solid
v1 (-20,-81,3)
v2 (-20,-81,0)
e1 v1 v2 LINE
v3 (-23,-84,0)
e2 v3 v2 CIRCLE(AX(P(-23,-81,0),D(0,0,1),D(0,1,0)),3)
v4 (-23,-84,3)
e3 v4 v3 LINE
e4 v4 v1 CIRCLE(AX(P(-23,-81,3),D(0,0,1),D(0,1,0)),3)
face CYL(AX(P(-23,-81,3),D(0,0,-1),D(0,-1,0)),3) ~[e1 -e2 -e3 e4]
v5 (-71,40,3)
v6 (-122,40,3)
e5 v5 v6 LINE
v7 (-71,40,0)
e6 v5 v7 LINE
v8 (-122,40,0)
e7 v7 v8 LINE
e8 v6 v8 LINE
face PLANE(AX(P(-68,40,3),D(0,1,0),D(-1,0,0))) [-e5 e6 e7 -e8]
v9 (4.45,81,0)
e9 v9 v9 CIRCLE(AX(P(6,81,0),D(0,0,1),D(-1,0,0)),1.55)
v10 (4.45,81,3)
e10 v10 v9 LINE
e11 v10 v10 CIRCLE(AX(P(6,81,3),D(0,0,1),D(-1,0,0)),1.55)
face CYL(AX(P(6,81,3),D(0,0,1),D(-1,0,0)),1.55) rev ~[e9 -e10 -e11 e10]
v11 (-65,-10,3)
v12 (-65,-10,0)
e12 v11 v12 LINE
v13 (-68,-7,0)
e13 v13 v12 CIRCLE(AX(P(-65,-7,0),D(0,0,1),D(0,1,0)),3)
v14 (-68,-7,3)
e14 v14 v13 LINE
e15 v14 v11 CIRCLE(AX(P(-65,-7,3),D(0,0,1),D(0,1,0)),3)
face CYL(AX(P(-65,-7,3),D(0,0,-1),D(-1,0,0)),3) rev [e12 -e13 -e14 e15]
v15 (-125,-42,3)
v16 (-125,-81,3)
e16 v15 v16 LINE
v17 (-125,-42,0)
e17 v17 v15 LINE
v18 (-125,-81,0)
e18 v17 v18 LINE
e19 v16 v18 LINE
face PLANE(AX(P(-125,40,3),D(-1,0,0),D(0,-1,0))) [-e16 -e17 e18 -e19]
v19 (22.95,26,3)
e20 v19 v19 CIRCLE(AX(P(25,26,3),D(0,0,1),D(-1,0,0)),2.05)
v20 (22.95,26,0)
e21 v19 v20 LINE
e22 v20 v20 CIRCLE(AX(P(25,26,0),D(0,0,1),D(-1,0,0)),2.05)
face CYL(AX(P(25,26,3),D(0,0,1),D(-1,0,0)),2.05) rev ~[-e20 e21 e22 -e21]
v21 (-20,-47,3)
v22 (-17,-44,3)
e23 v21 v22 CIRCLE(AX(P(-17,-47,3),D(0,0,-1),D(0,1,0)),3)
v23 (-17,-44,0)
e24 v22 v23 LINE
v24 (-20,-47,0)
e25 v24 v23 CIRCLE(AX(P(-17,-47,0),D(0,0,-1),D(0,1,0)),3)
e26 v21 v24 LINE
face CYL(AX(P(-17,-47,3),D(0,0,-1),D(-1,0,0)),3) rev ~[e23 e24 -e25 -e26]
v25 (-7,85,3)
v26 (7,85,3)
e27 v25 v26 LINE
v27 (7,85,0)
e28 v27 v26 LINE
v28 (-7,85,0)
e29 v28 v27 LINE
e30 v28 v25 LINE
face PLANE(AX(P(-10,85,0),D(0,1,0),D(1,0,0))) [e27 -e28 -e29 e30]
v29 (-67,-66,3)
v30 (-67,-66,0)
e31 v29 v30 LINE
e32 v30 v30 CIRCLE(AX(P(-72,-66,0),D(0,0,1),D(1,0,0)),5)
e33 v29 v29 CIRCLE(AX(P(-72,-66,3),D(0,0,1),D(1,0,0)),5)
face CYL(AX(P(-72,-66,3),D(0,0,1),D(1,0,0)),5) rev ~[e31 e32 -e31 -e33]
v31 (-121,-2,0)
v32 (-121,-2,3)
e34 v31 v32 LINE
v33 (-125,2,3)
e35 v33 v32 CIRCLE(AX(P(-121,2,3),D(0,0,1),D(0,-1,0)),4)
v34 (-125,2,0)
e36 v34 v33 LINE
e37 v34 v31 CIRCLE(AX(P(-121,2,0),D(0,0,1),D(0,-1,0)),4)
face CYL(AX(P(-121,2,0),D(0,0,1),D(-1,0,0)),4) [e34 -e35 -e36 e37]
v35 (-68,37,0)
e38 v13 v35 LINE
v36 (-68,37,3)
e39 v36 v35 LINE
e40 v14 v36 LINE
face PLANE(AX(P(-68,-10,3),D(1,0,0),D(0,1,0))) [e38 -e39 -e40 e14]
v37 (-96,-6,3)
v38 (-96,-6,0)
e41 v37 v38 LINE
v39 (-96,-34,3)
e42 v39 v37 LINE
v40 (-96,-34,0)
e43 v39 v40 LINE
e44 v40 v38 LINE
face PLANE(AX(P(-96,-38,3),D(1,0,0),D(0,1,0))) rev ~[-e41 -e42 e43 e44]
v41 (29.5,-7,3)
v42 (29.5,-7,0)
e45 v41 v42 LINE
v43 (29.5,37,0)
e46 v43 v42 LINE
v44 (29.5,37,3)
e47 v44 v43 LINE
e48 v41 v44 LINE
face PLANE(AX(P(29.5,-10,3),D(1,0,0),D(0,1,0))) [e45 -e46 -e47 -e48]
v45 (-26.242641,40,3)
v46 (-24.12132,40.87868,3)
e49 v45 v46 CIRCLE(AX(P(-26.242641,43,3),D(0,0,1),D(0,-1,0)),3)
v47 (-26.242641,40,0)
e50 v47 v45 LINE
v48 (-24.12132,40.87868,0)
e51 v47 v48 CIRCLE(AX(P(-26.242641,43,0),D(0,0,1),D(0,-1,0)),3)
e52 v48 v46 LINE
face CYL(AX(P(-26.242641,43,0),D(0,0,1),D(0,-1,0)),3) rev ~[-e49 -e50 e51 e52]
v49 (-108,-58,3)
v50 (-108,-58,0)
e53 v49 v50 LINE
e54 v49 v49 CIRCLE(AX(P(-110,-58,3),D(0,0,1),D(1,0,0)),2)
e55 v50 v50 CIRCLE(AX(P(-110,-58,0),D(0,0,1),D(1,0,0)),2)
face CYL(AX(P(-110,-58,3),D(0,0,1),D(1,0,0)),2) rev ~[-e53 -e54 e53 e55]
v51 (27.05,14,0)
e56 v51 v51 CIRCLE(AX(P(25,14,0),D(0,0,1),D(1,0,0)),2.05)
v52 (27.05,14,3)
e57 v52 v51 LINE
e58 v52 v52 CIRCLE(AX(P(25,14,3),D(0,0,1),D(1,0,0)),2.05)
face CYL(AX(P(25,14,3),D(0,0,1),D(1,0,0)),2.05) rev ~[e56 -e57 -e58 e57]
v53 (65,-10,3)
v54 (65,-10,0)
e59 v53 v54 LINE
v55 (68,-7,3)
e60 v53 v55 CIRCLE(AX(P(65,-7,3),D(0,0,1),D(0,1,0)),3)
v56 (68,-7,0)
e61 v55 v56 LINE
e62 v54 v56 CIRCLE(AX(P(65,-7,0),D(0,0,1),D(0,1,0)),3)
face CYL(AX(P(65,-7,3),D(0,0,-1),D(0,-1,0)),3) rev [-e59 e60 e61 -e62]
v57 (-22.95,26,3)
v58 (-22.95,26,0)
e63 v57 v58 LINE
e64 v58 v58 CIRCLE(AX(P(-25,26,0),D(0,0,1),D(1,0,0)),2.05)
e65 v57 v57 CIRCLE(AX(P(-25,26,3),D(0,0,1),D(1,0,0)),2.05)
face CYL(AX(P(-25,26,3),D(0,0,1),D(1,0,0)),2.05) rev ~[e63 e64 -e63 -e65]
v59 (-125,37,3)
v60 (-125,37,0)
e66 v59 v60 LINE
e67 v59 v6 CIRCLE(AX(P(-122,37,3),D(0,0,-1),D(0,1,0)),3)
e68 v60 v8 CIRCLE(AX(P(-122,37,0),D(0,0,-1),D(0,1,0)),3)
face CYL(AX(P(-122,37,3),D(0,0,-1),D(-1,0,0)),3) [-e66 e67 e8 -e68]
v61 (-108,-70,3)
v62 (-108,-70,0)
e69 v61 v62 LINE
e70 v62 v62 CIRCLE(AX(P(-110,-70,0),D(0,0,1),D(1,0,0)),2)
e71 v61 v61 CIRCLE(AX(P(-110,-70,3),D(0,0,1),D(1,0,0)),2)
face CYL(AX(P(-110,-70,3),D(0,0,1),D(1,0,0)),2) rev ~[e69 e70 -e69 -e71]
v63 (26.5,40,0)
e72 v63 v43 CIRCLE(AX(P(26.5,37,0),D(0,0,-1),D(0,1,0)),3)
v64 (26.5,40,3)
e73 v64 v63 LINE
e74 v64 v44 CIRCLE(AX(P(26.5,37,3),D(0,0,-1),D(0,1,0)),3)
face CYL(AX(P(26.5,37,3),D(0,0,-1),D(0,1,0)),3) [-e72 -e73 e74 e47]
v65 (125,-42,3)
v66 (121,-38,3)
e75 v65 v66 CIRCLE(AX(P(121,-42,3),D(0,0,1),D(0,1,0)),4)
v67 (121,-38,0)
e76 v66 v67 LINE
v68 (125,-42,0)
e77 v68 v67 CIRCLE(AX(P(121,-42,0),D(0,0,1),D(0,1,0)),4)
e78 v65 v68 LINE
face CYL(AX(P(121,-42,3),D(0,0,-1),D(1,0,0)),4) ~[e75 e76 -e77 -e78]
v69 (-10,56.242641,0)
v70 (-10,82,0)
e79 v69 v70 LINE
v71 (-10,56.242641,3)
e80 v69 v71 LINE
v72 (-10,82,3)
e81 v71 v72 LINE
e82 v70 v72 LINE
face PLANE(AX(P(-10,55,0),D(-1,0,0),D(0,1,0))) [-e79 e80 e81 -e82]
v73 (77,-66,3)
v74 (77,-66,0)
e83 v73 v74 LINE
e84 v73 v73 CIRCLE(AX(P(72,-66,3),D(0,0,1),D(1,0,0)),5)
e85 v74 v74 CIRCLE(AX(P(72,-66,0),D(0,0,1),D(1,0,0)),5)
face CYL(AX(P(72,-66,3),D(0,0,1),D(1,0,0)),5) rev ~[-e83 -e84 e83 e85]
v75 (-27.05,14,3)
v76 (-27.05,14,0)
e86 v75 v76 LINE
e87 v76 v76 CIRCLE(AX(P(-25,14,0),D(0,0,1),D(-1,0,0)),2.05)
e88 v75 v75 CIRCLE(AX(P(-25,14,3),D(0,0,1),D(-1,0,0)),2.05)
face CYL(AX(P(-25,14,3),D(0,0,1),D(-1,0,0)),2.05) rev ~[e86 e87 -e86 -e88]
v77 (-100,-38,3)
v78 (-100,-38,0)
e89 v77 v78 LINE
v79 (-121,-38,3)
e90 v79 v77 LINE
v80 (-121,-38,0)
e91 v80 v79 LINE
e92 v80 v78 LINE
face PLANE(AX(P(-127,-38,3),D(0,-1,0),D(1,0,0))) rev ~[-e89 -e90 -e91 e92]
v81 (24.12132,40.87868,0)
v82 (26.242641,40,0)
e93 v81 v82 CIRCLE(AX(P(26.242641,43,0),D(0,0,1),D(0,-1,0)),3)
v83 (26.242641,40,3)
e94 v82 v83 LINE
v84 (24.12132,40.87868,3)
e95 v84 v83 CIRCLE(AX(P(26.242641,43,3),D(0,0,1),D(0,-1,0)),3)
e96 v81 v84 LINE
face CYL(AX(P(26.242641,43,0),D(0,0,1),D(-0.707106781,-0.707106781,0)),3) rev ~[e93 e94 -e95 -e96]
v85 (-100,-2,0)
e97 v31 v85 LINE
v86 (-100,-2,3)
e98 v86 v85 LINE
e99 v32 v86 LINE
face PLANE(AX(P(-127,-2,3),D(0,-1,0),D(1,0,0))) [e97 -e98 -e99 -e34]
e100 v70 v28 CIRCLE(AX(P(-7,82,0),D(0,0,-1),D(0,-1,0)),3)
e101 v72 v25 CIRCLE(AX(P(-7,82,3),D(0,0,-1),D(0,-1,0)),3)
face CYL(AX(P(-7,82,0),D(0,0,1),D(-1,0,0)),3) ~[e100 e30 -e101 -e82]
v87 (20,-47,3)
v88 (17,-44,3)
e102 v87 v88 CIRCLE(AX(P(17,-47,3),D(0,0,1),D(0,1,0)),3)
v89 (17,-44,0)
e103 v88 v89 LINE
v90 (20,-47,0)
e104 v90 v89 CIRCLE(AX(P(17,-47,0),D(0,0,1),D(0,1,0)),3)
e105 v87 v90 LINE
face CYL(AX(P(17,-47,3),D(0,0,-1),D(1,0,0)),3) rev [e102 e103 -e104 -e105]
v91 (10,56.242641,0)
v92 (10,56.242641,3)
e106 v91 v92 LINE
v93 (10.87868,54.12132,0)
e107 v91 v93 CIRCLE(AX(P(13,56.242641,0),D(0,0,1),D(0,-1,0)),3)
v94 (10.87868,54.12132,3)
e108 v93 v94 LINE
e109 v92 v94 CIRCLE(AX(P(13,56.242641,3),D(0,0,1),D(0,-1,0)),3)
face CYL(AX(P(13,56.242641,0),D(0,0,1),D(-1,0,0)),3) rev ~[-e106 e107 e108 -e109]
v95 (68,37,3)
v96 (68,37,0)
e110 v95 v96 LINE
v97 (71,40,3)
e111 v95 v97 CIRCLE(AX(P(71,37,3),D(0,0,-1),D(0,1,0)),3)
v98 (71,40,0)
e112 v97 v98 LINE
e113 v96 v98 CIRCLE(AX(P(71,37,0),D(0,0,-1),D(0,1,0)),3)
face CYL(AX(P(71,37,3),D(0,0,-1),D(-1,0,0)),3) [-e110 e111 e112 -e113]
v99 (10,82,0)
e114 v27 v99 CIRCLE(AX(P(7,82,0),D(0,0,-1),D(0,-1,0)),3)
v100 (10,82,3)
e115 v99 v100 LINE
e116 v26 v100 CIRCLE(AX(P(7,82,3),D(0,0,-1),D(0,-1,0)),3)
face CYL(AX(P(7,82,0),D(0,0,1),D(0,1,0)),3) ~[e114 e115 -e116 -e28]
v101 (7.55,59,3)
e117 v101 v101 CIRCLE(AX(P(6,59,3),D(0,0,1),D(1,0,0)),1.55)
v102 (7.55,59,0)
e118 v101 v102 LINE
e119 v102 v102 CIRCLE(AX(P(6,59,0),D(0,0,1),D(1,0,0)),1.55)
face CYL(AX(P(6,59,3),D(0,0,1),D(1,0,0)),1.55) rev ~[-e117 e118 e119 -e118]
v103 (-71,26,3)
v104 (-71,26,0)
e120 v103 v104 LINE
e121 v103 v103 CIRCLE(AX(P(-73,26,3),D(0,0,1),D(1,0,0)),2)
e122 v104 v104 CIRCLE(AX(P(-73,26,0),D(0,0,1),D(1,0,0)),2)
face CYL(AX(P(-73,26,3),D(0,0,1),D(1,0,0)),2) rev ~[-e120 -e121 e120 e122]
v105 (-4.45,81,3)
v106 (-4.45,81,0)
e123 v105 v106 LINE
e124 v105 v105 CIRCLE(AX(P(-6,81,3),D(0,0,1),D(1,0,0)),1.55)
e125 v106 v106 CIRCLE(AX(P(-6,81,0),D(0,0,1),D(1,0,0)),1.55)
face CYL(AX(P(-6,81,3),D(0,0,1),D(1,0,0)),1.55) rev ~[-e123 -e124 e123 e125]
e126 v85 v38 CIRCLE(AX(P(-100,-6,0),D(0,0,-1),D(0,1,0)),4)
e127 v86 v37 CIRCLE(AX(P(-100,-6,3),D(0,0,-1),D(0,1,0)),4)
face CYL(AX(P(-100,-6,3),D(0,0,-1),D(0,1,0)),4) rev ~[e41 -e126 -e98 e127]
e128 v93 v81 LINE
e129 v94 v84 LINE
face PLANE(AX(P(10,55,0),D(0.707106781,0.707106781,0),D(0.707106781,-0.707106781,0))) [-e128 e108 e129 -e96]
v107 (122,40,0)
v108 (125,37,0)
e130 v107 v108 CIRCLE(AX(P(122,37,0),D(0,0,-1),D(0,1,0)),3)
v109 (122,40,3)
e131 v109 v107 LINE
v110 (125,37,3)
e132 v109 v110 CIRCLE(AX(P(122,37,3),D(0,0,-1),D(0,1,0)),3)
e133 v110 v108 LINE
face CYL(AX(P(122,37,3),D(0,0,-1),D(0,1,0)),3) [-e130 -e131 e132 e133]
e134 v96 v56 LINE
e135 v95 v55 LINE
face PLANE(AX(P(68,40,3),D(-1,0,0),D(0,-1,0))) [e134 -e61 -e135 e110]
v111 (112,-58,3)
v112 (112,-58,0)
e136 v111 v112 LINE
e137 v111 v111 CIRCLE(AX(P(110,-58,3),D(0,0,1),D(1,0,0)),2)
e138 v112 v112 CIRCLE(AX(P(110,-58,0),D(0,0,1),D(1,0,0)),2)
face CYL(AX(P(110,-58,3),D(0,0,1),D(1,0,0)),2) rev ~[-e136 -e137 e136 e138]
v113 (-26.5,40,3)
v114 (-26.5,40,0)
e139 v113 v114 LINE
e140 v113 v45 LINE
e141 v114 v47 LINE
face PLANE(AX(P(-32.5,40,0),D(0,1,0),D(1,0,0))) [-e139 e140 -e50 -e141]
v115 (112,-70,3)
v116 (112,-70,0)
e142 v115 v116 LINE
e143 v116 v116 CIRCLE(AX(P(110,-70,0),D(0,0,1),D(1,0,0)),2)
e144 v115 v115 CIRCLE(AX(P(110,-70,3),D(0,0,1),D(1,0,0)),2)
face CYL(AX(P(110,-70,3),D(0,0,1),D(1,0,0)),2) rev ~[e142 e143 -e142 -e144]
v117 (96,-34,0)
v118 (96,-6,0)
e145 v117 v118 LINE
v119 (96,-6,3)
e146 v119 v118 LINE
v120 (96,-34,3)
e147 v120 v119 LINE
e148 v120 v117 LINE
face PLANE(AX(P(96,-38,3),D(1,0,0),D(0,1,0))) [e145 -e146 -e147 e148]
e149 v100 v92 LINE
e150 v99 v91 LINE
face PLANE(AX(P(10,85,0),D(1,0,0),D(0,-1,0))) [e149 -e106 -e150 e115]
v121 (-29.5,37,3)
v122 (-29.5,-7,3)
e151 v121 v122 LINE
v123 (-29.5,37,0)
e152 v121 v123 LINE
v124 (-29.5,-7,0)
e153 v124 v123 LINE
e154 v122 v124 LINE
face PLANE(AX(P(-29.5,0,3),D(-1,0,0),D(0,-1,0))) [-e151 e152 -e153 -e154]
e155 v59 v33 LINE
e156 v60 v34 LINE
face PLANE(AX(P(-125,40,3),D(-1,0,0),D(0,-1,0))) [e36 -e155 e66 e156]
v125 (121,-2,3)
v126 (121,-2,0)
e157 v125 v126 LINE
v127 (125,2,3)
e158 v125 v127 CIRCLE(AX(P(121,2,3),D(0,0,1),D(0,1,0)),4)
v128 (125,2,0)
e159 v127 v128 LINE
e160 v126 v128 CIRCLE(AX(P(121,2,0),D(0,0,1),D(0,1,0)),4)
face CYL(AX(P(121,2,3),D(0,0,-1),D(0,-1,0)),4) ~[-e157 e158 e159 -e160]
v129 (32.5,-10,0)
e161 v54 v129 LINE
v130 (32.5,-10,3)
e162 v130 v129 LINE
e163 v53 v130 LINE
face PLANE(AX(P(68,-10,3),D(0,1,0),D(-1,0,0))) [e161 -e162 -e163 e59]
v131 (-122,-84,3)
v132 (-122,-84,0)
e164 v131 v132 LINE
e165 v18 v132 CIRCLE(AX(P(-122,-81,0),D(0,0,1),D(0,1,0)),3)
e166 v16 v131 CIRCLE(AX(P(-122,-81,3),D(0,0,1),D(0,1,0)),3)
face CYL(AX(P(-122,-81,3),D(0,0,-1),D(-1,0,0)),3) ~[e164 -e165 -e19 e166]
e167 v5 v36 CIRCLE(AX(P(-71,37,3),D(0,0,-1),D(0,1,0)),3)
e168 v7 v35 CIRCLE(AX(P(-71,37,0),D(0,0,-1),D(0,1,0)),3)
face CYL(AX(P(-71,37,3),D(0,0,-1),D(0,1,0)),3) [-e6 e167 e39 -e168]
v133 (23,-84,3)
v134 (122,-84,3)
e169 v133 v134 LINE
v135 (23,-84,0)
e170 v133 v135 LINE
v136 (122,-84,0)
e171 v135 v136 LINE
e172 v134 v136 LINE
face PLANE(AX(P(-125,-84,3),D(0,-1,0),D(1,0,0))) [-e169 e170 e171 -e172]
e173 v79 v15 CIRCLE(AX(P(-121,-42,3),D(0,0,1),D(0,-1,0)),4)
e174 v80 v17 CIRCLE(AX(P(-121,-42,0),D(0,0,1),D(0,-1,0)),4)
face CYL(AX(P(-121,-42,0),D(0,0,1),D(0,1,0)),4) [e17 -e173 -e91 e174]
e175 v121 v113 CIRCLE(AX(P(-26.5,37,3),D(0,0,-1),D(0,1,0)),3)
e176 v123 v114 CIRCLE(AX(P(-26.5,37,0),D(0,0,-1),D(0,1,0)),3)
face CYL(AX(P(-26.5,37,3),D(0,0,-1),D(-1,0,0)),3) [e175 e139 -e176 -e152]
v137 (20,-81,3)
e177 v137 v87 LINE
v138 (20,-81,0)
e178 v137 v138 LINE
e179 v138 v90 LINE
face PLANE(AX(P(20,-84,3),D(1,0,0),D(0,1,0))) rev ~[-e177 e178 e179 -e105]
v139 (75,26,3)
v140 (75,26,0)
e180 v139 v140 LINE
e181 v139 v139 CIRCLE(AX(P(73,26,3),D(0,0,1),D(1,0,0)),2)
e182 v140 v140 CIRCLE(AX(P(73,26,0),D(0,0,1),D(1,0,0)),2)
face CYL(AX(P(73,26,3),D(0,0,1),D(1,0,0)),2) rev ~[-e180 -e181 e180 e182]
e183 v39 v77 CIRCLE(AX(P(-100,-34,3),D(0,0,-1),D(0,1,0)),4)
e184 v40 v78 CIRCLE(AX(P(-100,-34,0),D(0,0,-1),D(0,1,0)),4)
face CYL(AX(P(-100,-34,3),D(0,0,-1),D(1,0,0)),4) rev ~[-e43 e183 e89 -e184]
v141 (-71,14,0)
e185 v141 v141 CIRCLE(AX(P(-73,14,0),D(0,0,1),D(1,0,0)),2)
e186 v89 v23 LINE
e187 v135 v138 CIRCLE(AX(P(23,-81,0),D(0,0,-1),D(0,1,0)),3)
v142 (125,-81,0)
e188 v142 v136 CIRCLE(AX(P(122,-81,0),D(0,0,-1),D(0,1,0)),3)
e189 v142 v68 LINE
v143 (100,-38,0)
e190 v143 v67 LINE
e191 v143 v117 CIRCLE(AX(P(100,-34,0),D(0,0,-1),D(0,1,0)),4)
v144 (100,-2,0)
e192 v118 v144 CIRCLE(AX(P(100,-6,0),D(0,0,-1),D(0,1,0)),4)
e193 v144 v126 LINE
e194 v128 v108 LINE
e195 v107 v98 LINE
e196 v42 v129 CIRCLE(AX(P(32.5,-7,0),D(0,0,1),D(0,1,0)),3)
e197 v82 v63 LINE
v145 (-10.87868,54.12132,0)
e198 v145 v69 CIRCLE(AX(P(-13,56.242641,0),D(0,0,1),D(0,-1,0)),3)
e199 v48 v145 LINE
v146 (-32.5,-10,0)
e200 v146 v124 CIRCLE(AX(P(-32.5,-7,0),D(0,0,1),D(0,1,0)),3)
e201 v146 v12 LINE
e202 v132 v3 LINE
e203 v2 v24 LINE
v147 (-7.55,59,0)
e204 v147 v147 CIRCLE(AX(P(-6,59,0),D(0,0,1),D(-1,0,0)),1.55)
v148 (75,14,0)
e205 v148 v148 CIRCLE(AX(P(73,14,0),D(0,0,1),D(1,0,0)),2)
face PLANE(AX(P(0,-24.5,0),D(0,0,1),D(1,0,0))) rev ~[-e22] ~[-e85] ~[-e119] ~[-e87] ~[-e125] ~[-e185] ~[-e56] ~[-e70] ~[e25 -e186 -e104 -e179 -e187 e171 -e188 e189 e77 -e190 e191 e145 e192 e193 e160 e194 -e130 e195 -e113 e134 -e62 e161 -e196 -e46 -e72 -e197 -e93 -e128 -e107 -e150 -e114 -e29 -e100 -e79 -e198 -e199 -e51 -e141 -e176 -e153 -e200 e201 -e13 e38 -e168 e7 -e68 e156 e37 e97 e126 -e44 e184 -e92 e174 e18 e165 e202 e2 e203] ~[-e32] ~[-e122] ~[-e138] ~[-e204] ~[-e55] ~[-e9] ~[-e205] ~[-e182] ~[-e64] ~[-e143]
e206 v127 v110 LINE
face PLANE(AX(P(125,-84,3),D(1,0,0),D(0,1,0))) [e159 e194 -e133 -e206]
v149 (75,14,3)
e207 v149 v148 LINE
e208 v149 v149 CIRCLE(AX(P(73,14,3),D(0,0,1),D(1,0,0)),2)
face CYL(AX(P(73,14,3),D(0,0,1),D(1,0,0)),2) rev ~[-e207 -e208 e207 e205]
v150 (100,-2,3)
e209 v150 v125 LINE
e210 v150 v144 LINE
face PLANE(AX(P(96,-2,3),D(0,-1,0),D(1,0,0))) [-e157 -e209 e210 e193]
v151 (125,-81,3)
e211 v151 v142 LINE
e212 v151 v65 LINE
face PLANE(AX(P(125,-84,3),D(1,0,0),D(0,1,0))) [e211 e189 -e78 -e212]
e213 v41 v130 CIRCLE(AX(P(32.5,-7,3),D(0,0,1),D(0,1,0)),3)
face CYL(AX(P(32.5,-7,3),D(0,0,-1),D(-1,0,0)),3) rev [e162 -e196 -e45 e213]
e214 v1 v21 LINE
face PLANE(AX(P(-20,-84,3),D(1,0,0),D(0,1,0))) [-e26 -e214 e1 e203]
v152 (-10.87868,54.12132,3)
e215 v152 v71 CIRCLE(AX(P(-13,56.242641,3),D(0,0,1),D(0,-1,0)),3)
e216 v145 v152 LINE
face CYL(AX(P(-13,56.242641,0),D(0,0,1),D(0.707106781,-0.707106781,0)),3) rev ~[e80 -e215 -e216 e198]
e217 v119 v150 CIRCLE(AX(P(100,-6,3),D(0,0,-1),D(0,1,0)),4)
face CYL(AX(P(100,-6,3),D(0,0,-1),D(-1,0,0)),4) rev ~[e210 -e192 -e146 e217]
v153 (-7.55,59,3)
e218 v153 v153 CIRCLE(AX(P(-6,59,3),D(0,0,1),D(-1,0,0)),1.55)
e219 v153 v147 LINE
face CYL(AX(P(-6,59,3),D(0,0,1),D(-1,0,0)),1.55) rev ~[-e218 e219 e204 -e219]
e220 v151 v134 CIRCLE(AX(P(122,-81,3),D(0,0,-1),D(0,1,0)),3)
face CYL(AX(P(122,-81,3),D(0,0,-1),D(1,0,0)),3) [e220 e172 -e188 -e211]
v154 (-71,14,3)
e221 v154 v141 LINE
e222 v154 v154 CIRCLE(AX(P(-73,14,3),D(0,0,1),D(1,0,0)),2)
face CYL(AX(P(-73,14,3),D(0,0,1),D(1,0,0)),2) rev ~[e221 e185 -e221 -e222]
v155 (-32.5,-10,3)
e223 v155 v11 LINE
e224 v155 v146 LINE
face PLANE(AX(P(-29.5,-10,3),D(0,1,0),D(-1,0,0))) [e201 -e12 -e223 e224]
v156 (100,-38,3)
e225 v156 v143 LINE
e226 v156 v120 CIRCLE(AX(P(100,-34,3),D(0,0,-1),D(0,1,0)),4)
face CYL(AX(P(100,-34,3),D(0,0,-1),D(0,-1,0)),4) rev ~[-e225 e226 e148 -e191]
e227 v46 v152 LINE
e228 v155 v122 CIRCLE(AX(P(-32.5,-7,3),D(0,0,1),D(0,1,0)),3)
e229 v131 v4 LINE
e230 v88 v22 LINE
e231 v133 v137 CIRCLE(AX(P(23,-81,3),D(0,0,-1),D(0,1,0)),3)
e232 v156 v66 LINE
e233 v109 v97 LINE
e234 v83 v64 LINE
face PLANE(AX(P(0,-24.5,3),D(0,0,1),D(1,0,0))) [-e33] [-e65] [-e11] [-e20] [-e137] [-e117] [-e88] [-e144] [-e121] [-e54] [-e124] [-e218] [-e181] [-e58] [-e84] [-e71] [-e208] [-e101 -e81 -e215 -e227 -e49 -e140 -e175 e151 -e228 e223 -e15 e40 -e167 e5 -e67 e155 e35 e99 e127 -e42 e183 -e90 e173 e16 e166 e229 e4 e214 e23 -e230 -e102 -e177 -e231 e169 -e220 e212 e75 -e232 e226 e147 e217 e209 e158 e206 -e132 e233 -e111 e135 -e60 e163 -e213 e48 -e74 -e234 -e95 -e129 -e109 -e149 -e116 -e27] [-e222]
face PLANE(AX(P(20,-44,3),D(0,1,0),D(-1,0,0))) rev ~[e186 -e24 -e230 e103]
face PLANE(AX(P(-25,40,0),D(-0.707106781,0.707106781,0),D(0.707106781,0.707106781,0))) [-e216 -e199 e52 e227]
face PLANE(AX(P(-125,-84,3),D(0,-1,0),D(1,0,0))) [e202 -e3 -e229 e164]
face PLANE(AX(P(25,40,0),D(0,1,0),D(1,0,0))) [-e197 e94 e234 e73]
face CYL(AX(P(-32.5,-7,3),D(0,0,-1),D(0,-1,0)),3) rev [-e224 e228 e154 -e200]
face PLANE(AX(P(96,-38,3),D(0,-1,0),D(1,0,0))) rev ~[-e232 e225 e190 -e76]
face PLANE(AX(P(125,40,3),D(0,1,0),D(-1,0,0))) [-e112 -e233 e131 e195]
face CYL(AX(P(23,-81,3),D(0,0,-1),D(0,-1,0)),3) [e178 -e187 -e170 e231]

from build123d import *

# Parameters (mm, degrees)
EXTRUDE_1_DEPTH     = 3
SKETCH_2_R          = 1.55
CUT_EXTRUDE_1_DEPTH = 92.050809991
SKETCH_3_R          = 2.05
CUT_EXTRUDE_2_DEPTH = 92.050809991
SKETCH_4_W          = 3
SKETCH_4_H          = 40.476527492
CUT_EXTRUDE_3_DEPTH = 10
EXTRUDE_2_DEPTH     = 3
SKETCH_6_W          = 20
SKETCH_6_H          = 40
CUT_EXTRUDE_4_DEPTH = 4
FILLET_1_R          = 3
SKETCH_7_R          = 5
SKETCH_7_W          = 31
SKETCH_7_H          = 36
CUT_EXTRUDE_5_DEPTH = 4
SKETCH_8_R          = 2
CUT_EXTRUDE_6_DEPTH = 4
SKETCH_9_R          = 2
CUT_EXTRUDE_7_DEPTH = 4
FILLET_2_R          = 4


with BuildPart() as part:
    # 草图1 → 凸台-拉伸1 (new body)
    with BuildSketch(Plane.XY):
        Polygon((-32.5, 40), (-25, 40), (-10, 55), (-10, 85), (10, 85), (10, 55), (25, 40), (32.5, 40), (32.5, 0), (-32.5, 0), align=None)
    extrude(amount=EXTRUDE_1_DEPTH)

    # 草图2 → 切除-拉伸1 (cut, through all)
    with BuildSketch(Plane.XY.offset(3)):
        with Locations((-6, 81)):
            Circle(SKETCH_2_R)
        with Locations(Location((-6, 59, 0), (0, 0, 180))):
            Circle(SKETCH_2_R)
        with Locations((6, 59)):
            Circle(SKETCH_2_R)
        with Locations(Location((6, 81, 0), (0, 0, 180))):
            Circle(SKETCH_2_R)
    extrude(amount=-CUT_EXTRUDE_1_DEPTH, mode=Mode.SUBTRACT)

    # 草图3 → 切除-拉伸2 (cut, through all)
    with BuildSketch(Plane.XY.offset(3)):
        with Locations((-25, 26)):
            Circle(SKETCH_3_R)
        with Locations(Location((-25, 14, 0), (0, 0, 180))):
            Circle(SKETCH_3_R)
        with Locations((25, 14)):
            Circle(SKETCH_3_R)
        with Locations(Location((25, 26, 0), (0, 0, 180))):
            Circle(SKETCH_3_R)
    extrude(amount=-CUT_EXTRUDE_2_DEPTH, mode=Mode.SUBTRACT)

    # 草图4 → 切除-拉伸3 (cut)
    with BuildSketch(Plane.XY.offset(3)):
        with Locations((31, 19.761736254)):
            Rectangle(SKETCH_4_W, SKETCH_4_H)
        with Locations((-31, 19.761736254)):
            Rectangle(SKETCH_4_W, SKETCH_4_H)
    extrude(amount=-CUT_EXTRUDE_3_DEPTH, mode=Mode.SUBTRACT)

    # 草图5 → 凸台-拉伸2 (add)
    with BuildSketch(Plane.XY.offset(3)):
        Polygon((-125, 40), (-125, -84), (125, -84), (125, 40), (68, 40), (68, -10), (29.5, -10), (29.5, 0), (-29.5, 0), (-29.5, -10), (-68, -10), (-68, 40), align=None)
    extrude(amount=-EXTRUDE_2_DEPTH)

    # 草图6 → 切除-拉伸4 (cut)
    with BuildSketch(Plane.XY.offset(3)):
        with Locations((10, -64)):
            Rectangle(SKETCH_6_W, SKETCH_6_H)
        with Locations((-10, -64)):
            Rectangle(SKETCH_6_W, SKETCH_6_H)
    extrude(amount=-CUT_EXTRUDE_4_DEPTH, mode=Mode.SUBTRACT)

    # 圆角1
    fillet_1_edges = [part.edges().sort_by_distance(p)[0] for p in [
        (68, -10, 1.5),
        (68, 40, 1.5),
        (125, 40, 1.5),
        (125, -84, 1.5),
        (-125, -84, 1.5),
        (-125, 40, 1.5),
        (-68, 40, 1.5),
        (-68, -10, 1.5),
        (-29.5, -10, 1.5),
        (29.5, -10, 1.5),
        (20, -84, 1.5),
        (-20, -84, 1.5),
        (-20, -44, 1.5),
        (20, -44, 1.5),
        (-25, 40, 1.5),
        (-10, 55, 1.5),
        (-10, 85, 1.5),
        (10, 85, 1.5),
        (10, 55, 1.5),
        (25, 40, 1.5),
        (29.5, 40, 1.5),
        (-29.5, 40, 1.5),
    ]]
    fillet(fillet_1_edges, radius=FILLET_1_R)

    # 草图7 → 切除-拉伸5 (cut)
    with BuildSketch(Plane.XY.offset(3)):
        with Locations((72, -66)):
            Circle(SKETCH_7_R)
        with Locations((-72, -66)):
            Circle(SKETCH_7_R)
        with Locations((111.5, -20)):
            Rectangle(SKETCH_7_W, SKETCH_7_H)
        with Locations((-111.5, -20)):
            Rectangle(SKETCH_7_W, SKETCH_7_H)
    extrude(amount=-CUT_EXTRUDE_5_DEPTH, mode=Mode.SUBTRACT)

    # 草图8 → 切除-拉伸6 (cut)
    with BuildSketch(Plane.XY.offset(3)):
        with Locations((73, 26)):
            Circle(SKETCH_8_R)
        with Locations((73, 14)):
            Circle(SKETCH_8_R)
        with Locations((-73, 14)):
            Circle(SKETCH_8_R)
        with Locations((-73, 26)):
            Circle(SKETCH_8_R)
    extrude(amount=-CUT_EXTRUDE_6_DEPTH, mode=Mode.SUBTRACT)

    # 草图9 → 切除-拉伸7 (cut)
    with BuildSketch(Plane.XY.offset(3)):
        with Locations((110, -58)):
            Circle(SKETCH_9_R)
        with Locations((110, -70)):
            Circle(SKETCH_9_R)
        with Locations((-110, -70)):
            Circle(SKETCH_9_R)
        with Locations((-110, -58)):
            Circle(SKETCH_9_R)
    extrude(amount=-CUT_EXTRUDE_7_DEPTH, mode=Mode.SUBTRACT)

    # 圆角2
    fillet_2_edges = [part.edges().sort_by_distance(p)[0] for p in [
        (-125, -38, 1.5),
        (-125, -2, 1.5),
        (125, -38, 1.5),
        (125, -2, 1.5),
        (-96, -2, 1.5),
        (-96, -38, 1.5),
        (96, -38, 1.5),
        (96, -2, 1.5),
    ]]
    fillet(fillet_2_edges, radius=FILLET_2_R)


solid = part.part
